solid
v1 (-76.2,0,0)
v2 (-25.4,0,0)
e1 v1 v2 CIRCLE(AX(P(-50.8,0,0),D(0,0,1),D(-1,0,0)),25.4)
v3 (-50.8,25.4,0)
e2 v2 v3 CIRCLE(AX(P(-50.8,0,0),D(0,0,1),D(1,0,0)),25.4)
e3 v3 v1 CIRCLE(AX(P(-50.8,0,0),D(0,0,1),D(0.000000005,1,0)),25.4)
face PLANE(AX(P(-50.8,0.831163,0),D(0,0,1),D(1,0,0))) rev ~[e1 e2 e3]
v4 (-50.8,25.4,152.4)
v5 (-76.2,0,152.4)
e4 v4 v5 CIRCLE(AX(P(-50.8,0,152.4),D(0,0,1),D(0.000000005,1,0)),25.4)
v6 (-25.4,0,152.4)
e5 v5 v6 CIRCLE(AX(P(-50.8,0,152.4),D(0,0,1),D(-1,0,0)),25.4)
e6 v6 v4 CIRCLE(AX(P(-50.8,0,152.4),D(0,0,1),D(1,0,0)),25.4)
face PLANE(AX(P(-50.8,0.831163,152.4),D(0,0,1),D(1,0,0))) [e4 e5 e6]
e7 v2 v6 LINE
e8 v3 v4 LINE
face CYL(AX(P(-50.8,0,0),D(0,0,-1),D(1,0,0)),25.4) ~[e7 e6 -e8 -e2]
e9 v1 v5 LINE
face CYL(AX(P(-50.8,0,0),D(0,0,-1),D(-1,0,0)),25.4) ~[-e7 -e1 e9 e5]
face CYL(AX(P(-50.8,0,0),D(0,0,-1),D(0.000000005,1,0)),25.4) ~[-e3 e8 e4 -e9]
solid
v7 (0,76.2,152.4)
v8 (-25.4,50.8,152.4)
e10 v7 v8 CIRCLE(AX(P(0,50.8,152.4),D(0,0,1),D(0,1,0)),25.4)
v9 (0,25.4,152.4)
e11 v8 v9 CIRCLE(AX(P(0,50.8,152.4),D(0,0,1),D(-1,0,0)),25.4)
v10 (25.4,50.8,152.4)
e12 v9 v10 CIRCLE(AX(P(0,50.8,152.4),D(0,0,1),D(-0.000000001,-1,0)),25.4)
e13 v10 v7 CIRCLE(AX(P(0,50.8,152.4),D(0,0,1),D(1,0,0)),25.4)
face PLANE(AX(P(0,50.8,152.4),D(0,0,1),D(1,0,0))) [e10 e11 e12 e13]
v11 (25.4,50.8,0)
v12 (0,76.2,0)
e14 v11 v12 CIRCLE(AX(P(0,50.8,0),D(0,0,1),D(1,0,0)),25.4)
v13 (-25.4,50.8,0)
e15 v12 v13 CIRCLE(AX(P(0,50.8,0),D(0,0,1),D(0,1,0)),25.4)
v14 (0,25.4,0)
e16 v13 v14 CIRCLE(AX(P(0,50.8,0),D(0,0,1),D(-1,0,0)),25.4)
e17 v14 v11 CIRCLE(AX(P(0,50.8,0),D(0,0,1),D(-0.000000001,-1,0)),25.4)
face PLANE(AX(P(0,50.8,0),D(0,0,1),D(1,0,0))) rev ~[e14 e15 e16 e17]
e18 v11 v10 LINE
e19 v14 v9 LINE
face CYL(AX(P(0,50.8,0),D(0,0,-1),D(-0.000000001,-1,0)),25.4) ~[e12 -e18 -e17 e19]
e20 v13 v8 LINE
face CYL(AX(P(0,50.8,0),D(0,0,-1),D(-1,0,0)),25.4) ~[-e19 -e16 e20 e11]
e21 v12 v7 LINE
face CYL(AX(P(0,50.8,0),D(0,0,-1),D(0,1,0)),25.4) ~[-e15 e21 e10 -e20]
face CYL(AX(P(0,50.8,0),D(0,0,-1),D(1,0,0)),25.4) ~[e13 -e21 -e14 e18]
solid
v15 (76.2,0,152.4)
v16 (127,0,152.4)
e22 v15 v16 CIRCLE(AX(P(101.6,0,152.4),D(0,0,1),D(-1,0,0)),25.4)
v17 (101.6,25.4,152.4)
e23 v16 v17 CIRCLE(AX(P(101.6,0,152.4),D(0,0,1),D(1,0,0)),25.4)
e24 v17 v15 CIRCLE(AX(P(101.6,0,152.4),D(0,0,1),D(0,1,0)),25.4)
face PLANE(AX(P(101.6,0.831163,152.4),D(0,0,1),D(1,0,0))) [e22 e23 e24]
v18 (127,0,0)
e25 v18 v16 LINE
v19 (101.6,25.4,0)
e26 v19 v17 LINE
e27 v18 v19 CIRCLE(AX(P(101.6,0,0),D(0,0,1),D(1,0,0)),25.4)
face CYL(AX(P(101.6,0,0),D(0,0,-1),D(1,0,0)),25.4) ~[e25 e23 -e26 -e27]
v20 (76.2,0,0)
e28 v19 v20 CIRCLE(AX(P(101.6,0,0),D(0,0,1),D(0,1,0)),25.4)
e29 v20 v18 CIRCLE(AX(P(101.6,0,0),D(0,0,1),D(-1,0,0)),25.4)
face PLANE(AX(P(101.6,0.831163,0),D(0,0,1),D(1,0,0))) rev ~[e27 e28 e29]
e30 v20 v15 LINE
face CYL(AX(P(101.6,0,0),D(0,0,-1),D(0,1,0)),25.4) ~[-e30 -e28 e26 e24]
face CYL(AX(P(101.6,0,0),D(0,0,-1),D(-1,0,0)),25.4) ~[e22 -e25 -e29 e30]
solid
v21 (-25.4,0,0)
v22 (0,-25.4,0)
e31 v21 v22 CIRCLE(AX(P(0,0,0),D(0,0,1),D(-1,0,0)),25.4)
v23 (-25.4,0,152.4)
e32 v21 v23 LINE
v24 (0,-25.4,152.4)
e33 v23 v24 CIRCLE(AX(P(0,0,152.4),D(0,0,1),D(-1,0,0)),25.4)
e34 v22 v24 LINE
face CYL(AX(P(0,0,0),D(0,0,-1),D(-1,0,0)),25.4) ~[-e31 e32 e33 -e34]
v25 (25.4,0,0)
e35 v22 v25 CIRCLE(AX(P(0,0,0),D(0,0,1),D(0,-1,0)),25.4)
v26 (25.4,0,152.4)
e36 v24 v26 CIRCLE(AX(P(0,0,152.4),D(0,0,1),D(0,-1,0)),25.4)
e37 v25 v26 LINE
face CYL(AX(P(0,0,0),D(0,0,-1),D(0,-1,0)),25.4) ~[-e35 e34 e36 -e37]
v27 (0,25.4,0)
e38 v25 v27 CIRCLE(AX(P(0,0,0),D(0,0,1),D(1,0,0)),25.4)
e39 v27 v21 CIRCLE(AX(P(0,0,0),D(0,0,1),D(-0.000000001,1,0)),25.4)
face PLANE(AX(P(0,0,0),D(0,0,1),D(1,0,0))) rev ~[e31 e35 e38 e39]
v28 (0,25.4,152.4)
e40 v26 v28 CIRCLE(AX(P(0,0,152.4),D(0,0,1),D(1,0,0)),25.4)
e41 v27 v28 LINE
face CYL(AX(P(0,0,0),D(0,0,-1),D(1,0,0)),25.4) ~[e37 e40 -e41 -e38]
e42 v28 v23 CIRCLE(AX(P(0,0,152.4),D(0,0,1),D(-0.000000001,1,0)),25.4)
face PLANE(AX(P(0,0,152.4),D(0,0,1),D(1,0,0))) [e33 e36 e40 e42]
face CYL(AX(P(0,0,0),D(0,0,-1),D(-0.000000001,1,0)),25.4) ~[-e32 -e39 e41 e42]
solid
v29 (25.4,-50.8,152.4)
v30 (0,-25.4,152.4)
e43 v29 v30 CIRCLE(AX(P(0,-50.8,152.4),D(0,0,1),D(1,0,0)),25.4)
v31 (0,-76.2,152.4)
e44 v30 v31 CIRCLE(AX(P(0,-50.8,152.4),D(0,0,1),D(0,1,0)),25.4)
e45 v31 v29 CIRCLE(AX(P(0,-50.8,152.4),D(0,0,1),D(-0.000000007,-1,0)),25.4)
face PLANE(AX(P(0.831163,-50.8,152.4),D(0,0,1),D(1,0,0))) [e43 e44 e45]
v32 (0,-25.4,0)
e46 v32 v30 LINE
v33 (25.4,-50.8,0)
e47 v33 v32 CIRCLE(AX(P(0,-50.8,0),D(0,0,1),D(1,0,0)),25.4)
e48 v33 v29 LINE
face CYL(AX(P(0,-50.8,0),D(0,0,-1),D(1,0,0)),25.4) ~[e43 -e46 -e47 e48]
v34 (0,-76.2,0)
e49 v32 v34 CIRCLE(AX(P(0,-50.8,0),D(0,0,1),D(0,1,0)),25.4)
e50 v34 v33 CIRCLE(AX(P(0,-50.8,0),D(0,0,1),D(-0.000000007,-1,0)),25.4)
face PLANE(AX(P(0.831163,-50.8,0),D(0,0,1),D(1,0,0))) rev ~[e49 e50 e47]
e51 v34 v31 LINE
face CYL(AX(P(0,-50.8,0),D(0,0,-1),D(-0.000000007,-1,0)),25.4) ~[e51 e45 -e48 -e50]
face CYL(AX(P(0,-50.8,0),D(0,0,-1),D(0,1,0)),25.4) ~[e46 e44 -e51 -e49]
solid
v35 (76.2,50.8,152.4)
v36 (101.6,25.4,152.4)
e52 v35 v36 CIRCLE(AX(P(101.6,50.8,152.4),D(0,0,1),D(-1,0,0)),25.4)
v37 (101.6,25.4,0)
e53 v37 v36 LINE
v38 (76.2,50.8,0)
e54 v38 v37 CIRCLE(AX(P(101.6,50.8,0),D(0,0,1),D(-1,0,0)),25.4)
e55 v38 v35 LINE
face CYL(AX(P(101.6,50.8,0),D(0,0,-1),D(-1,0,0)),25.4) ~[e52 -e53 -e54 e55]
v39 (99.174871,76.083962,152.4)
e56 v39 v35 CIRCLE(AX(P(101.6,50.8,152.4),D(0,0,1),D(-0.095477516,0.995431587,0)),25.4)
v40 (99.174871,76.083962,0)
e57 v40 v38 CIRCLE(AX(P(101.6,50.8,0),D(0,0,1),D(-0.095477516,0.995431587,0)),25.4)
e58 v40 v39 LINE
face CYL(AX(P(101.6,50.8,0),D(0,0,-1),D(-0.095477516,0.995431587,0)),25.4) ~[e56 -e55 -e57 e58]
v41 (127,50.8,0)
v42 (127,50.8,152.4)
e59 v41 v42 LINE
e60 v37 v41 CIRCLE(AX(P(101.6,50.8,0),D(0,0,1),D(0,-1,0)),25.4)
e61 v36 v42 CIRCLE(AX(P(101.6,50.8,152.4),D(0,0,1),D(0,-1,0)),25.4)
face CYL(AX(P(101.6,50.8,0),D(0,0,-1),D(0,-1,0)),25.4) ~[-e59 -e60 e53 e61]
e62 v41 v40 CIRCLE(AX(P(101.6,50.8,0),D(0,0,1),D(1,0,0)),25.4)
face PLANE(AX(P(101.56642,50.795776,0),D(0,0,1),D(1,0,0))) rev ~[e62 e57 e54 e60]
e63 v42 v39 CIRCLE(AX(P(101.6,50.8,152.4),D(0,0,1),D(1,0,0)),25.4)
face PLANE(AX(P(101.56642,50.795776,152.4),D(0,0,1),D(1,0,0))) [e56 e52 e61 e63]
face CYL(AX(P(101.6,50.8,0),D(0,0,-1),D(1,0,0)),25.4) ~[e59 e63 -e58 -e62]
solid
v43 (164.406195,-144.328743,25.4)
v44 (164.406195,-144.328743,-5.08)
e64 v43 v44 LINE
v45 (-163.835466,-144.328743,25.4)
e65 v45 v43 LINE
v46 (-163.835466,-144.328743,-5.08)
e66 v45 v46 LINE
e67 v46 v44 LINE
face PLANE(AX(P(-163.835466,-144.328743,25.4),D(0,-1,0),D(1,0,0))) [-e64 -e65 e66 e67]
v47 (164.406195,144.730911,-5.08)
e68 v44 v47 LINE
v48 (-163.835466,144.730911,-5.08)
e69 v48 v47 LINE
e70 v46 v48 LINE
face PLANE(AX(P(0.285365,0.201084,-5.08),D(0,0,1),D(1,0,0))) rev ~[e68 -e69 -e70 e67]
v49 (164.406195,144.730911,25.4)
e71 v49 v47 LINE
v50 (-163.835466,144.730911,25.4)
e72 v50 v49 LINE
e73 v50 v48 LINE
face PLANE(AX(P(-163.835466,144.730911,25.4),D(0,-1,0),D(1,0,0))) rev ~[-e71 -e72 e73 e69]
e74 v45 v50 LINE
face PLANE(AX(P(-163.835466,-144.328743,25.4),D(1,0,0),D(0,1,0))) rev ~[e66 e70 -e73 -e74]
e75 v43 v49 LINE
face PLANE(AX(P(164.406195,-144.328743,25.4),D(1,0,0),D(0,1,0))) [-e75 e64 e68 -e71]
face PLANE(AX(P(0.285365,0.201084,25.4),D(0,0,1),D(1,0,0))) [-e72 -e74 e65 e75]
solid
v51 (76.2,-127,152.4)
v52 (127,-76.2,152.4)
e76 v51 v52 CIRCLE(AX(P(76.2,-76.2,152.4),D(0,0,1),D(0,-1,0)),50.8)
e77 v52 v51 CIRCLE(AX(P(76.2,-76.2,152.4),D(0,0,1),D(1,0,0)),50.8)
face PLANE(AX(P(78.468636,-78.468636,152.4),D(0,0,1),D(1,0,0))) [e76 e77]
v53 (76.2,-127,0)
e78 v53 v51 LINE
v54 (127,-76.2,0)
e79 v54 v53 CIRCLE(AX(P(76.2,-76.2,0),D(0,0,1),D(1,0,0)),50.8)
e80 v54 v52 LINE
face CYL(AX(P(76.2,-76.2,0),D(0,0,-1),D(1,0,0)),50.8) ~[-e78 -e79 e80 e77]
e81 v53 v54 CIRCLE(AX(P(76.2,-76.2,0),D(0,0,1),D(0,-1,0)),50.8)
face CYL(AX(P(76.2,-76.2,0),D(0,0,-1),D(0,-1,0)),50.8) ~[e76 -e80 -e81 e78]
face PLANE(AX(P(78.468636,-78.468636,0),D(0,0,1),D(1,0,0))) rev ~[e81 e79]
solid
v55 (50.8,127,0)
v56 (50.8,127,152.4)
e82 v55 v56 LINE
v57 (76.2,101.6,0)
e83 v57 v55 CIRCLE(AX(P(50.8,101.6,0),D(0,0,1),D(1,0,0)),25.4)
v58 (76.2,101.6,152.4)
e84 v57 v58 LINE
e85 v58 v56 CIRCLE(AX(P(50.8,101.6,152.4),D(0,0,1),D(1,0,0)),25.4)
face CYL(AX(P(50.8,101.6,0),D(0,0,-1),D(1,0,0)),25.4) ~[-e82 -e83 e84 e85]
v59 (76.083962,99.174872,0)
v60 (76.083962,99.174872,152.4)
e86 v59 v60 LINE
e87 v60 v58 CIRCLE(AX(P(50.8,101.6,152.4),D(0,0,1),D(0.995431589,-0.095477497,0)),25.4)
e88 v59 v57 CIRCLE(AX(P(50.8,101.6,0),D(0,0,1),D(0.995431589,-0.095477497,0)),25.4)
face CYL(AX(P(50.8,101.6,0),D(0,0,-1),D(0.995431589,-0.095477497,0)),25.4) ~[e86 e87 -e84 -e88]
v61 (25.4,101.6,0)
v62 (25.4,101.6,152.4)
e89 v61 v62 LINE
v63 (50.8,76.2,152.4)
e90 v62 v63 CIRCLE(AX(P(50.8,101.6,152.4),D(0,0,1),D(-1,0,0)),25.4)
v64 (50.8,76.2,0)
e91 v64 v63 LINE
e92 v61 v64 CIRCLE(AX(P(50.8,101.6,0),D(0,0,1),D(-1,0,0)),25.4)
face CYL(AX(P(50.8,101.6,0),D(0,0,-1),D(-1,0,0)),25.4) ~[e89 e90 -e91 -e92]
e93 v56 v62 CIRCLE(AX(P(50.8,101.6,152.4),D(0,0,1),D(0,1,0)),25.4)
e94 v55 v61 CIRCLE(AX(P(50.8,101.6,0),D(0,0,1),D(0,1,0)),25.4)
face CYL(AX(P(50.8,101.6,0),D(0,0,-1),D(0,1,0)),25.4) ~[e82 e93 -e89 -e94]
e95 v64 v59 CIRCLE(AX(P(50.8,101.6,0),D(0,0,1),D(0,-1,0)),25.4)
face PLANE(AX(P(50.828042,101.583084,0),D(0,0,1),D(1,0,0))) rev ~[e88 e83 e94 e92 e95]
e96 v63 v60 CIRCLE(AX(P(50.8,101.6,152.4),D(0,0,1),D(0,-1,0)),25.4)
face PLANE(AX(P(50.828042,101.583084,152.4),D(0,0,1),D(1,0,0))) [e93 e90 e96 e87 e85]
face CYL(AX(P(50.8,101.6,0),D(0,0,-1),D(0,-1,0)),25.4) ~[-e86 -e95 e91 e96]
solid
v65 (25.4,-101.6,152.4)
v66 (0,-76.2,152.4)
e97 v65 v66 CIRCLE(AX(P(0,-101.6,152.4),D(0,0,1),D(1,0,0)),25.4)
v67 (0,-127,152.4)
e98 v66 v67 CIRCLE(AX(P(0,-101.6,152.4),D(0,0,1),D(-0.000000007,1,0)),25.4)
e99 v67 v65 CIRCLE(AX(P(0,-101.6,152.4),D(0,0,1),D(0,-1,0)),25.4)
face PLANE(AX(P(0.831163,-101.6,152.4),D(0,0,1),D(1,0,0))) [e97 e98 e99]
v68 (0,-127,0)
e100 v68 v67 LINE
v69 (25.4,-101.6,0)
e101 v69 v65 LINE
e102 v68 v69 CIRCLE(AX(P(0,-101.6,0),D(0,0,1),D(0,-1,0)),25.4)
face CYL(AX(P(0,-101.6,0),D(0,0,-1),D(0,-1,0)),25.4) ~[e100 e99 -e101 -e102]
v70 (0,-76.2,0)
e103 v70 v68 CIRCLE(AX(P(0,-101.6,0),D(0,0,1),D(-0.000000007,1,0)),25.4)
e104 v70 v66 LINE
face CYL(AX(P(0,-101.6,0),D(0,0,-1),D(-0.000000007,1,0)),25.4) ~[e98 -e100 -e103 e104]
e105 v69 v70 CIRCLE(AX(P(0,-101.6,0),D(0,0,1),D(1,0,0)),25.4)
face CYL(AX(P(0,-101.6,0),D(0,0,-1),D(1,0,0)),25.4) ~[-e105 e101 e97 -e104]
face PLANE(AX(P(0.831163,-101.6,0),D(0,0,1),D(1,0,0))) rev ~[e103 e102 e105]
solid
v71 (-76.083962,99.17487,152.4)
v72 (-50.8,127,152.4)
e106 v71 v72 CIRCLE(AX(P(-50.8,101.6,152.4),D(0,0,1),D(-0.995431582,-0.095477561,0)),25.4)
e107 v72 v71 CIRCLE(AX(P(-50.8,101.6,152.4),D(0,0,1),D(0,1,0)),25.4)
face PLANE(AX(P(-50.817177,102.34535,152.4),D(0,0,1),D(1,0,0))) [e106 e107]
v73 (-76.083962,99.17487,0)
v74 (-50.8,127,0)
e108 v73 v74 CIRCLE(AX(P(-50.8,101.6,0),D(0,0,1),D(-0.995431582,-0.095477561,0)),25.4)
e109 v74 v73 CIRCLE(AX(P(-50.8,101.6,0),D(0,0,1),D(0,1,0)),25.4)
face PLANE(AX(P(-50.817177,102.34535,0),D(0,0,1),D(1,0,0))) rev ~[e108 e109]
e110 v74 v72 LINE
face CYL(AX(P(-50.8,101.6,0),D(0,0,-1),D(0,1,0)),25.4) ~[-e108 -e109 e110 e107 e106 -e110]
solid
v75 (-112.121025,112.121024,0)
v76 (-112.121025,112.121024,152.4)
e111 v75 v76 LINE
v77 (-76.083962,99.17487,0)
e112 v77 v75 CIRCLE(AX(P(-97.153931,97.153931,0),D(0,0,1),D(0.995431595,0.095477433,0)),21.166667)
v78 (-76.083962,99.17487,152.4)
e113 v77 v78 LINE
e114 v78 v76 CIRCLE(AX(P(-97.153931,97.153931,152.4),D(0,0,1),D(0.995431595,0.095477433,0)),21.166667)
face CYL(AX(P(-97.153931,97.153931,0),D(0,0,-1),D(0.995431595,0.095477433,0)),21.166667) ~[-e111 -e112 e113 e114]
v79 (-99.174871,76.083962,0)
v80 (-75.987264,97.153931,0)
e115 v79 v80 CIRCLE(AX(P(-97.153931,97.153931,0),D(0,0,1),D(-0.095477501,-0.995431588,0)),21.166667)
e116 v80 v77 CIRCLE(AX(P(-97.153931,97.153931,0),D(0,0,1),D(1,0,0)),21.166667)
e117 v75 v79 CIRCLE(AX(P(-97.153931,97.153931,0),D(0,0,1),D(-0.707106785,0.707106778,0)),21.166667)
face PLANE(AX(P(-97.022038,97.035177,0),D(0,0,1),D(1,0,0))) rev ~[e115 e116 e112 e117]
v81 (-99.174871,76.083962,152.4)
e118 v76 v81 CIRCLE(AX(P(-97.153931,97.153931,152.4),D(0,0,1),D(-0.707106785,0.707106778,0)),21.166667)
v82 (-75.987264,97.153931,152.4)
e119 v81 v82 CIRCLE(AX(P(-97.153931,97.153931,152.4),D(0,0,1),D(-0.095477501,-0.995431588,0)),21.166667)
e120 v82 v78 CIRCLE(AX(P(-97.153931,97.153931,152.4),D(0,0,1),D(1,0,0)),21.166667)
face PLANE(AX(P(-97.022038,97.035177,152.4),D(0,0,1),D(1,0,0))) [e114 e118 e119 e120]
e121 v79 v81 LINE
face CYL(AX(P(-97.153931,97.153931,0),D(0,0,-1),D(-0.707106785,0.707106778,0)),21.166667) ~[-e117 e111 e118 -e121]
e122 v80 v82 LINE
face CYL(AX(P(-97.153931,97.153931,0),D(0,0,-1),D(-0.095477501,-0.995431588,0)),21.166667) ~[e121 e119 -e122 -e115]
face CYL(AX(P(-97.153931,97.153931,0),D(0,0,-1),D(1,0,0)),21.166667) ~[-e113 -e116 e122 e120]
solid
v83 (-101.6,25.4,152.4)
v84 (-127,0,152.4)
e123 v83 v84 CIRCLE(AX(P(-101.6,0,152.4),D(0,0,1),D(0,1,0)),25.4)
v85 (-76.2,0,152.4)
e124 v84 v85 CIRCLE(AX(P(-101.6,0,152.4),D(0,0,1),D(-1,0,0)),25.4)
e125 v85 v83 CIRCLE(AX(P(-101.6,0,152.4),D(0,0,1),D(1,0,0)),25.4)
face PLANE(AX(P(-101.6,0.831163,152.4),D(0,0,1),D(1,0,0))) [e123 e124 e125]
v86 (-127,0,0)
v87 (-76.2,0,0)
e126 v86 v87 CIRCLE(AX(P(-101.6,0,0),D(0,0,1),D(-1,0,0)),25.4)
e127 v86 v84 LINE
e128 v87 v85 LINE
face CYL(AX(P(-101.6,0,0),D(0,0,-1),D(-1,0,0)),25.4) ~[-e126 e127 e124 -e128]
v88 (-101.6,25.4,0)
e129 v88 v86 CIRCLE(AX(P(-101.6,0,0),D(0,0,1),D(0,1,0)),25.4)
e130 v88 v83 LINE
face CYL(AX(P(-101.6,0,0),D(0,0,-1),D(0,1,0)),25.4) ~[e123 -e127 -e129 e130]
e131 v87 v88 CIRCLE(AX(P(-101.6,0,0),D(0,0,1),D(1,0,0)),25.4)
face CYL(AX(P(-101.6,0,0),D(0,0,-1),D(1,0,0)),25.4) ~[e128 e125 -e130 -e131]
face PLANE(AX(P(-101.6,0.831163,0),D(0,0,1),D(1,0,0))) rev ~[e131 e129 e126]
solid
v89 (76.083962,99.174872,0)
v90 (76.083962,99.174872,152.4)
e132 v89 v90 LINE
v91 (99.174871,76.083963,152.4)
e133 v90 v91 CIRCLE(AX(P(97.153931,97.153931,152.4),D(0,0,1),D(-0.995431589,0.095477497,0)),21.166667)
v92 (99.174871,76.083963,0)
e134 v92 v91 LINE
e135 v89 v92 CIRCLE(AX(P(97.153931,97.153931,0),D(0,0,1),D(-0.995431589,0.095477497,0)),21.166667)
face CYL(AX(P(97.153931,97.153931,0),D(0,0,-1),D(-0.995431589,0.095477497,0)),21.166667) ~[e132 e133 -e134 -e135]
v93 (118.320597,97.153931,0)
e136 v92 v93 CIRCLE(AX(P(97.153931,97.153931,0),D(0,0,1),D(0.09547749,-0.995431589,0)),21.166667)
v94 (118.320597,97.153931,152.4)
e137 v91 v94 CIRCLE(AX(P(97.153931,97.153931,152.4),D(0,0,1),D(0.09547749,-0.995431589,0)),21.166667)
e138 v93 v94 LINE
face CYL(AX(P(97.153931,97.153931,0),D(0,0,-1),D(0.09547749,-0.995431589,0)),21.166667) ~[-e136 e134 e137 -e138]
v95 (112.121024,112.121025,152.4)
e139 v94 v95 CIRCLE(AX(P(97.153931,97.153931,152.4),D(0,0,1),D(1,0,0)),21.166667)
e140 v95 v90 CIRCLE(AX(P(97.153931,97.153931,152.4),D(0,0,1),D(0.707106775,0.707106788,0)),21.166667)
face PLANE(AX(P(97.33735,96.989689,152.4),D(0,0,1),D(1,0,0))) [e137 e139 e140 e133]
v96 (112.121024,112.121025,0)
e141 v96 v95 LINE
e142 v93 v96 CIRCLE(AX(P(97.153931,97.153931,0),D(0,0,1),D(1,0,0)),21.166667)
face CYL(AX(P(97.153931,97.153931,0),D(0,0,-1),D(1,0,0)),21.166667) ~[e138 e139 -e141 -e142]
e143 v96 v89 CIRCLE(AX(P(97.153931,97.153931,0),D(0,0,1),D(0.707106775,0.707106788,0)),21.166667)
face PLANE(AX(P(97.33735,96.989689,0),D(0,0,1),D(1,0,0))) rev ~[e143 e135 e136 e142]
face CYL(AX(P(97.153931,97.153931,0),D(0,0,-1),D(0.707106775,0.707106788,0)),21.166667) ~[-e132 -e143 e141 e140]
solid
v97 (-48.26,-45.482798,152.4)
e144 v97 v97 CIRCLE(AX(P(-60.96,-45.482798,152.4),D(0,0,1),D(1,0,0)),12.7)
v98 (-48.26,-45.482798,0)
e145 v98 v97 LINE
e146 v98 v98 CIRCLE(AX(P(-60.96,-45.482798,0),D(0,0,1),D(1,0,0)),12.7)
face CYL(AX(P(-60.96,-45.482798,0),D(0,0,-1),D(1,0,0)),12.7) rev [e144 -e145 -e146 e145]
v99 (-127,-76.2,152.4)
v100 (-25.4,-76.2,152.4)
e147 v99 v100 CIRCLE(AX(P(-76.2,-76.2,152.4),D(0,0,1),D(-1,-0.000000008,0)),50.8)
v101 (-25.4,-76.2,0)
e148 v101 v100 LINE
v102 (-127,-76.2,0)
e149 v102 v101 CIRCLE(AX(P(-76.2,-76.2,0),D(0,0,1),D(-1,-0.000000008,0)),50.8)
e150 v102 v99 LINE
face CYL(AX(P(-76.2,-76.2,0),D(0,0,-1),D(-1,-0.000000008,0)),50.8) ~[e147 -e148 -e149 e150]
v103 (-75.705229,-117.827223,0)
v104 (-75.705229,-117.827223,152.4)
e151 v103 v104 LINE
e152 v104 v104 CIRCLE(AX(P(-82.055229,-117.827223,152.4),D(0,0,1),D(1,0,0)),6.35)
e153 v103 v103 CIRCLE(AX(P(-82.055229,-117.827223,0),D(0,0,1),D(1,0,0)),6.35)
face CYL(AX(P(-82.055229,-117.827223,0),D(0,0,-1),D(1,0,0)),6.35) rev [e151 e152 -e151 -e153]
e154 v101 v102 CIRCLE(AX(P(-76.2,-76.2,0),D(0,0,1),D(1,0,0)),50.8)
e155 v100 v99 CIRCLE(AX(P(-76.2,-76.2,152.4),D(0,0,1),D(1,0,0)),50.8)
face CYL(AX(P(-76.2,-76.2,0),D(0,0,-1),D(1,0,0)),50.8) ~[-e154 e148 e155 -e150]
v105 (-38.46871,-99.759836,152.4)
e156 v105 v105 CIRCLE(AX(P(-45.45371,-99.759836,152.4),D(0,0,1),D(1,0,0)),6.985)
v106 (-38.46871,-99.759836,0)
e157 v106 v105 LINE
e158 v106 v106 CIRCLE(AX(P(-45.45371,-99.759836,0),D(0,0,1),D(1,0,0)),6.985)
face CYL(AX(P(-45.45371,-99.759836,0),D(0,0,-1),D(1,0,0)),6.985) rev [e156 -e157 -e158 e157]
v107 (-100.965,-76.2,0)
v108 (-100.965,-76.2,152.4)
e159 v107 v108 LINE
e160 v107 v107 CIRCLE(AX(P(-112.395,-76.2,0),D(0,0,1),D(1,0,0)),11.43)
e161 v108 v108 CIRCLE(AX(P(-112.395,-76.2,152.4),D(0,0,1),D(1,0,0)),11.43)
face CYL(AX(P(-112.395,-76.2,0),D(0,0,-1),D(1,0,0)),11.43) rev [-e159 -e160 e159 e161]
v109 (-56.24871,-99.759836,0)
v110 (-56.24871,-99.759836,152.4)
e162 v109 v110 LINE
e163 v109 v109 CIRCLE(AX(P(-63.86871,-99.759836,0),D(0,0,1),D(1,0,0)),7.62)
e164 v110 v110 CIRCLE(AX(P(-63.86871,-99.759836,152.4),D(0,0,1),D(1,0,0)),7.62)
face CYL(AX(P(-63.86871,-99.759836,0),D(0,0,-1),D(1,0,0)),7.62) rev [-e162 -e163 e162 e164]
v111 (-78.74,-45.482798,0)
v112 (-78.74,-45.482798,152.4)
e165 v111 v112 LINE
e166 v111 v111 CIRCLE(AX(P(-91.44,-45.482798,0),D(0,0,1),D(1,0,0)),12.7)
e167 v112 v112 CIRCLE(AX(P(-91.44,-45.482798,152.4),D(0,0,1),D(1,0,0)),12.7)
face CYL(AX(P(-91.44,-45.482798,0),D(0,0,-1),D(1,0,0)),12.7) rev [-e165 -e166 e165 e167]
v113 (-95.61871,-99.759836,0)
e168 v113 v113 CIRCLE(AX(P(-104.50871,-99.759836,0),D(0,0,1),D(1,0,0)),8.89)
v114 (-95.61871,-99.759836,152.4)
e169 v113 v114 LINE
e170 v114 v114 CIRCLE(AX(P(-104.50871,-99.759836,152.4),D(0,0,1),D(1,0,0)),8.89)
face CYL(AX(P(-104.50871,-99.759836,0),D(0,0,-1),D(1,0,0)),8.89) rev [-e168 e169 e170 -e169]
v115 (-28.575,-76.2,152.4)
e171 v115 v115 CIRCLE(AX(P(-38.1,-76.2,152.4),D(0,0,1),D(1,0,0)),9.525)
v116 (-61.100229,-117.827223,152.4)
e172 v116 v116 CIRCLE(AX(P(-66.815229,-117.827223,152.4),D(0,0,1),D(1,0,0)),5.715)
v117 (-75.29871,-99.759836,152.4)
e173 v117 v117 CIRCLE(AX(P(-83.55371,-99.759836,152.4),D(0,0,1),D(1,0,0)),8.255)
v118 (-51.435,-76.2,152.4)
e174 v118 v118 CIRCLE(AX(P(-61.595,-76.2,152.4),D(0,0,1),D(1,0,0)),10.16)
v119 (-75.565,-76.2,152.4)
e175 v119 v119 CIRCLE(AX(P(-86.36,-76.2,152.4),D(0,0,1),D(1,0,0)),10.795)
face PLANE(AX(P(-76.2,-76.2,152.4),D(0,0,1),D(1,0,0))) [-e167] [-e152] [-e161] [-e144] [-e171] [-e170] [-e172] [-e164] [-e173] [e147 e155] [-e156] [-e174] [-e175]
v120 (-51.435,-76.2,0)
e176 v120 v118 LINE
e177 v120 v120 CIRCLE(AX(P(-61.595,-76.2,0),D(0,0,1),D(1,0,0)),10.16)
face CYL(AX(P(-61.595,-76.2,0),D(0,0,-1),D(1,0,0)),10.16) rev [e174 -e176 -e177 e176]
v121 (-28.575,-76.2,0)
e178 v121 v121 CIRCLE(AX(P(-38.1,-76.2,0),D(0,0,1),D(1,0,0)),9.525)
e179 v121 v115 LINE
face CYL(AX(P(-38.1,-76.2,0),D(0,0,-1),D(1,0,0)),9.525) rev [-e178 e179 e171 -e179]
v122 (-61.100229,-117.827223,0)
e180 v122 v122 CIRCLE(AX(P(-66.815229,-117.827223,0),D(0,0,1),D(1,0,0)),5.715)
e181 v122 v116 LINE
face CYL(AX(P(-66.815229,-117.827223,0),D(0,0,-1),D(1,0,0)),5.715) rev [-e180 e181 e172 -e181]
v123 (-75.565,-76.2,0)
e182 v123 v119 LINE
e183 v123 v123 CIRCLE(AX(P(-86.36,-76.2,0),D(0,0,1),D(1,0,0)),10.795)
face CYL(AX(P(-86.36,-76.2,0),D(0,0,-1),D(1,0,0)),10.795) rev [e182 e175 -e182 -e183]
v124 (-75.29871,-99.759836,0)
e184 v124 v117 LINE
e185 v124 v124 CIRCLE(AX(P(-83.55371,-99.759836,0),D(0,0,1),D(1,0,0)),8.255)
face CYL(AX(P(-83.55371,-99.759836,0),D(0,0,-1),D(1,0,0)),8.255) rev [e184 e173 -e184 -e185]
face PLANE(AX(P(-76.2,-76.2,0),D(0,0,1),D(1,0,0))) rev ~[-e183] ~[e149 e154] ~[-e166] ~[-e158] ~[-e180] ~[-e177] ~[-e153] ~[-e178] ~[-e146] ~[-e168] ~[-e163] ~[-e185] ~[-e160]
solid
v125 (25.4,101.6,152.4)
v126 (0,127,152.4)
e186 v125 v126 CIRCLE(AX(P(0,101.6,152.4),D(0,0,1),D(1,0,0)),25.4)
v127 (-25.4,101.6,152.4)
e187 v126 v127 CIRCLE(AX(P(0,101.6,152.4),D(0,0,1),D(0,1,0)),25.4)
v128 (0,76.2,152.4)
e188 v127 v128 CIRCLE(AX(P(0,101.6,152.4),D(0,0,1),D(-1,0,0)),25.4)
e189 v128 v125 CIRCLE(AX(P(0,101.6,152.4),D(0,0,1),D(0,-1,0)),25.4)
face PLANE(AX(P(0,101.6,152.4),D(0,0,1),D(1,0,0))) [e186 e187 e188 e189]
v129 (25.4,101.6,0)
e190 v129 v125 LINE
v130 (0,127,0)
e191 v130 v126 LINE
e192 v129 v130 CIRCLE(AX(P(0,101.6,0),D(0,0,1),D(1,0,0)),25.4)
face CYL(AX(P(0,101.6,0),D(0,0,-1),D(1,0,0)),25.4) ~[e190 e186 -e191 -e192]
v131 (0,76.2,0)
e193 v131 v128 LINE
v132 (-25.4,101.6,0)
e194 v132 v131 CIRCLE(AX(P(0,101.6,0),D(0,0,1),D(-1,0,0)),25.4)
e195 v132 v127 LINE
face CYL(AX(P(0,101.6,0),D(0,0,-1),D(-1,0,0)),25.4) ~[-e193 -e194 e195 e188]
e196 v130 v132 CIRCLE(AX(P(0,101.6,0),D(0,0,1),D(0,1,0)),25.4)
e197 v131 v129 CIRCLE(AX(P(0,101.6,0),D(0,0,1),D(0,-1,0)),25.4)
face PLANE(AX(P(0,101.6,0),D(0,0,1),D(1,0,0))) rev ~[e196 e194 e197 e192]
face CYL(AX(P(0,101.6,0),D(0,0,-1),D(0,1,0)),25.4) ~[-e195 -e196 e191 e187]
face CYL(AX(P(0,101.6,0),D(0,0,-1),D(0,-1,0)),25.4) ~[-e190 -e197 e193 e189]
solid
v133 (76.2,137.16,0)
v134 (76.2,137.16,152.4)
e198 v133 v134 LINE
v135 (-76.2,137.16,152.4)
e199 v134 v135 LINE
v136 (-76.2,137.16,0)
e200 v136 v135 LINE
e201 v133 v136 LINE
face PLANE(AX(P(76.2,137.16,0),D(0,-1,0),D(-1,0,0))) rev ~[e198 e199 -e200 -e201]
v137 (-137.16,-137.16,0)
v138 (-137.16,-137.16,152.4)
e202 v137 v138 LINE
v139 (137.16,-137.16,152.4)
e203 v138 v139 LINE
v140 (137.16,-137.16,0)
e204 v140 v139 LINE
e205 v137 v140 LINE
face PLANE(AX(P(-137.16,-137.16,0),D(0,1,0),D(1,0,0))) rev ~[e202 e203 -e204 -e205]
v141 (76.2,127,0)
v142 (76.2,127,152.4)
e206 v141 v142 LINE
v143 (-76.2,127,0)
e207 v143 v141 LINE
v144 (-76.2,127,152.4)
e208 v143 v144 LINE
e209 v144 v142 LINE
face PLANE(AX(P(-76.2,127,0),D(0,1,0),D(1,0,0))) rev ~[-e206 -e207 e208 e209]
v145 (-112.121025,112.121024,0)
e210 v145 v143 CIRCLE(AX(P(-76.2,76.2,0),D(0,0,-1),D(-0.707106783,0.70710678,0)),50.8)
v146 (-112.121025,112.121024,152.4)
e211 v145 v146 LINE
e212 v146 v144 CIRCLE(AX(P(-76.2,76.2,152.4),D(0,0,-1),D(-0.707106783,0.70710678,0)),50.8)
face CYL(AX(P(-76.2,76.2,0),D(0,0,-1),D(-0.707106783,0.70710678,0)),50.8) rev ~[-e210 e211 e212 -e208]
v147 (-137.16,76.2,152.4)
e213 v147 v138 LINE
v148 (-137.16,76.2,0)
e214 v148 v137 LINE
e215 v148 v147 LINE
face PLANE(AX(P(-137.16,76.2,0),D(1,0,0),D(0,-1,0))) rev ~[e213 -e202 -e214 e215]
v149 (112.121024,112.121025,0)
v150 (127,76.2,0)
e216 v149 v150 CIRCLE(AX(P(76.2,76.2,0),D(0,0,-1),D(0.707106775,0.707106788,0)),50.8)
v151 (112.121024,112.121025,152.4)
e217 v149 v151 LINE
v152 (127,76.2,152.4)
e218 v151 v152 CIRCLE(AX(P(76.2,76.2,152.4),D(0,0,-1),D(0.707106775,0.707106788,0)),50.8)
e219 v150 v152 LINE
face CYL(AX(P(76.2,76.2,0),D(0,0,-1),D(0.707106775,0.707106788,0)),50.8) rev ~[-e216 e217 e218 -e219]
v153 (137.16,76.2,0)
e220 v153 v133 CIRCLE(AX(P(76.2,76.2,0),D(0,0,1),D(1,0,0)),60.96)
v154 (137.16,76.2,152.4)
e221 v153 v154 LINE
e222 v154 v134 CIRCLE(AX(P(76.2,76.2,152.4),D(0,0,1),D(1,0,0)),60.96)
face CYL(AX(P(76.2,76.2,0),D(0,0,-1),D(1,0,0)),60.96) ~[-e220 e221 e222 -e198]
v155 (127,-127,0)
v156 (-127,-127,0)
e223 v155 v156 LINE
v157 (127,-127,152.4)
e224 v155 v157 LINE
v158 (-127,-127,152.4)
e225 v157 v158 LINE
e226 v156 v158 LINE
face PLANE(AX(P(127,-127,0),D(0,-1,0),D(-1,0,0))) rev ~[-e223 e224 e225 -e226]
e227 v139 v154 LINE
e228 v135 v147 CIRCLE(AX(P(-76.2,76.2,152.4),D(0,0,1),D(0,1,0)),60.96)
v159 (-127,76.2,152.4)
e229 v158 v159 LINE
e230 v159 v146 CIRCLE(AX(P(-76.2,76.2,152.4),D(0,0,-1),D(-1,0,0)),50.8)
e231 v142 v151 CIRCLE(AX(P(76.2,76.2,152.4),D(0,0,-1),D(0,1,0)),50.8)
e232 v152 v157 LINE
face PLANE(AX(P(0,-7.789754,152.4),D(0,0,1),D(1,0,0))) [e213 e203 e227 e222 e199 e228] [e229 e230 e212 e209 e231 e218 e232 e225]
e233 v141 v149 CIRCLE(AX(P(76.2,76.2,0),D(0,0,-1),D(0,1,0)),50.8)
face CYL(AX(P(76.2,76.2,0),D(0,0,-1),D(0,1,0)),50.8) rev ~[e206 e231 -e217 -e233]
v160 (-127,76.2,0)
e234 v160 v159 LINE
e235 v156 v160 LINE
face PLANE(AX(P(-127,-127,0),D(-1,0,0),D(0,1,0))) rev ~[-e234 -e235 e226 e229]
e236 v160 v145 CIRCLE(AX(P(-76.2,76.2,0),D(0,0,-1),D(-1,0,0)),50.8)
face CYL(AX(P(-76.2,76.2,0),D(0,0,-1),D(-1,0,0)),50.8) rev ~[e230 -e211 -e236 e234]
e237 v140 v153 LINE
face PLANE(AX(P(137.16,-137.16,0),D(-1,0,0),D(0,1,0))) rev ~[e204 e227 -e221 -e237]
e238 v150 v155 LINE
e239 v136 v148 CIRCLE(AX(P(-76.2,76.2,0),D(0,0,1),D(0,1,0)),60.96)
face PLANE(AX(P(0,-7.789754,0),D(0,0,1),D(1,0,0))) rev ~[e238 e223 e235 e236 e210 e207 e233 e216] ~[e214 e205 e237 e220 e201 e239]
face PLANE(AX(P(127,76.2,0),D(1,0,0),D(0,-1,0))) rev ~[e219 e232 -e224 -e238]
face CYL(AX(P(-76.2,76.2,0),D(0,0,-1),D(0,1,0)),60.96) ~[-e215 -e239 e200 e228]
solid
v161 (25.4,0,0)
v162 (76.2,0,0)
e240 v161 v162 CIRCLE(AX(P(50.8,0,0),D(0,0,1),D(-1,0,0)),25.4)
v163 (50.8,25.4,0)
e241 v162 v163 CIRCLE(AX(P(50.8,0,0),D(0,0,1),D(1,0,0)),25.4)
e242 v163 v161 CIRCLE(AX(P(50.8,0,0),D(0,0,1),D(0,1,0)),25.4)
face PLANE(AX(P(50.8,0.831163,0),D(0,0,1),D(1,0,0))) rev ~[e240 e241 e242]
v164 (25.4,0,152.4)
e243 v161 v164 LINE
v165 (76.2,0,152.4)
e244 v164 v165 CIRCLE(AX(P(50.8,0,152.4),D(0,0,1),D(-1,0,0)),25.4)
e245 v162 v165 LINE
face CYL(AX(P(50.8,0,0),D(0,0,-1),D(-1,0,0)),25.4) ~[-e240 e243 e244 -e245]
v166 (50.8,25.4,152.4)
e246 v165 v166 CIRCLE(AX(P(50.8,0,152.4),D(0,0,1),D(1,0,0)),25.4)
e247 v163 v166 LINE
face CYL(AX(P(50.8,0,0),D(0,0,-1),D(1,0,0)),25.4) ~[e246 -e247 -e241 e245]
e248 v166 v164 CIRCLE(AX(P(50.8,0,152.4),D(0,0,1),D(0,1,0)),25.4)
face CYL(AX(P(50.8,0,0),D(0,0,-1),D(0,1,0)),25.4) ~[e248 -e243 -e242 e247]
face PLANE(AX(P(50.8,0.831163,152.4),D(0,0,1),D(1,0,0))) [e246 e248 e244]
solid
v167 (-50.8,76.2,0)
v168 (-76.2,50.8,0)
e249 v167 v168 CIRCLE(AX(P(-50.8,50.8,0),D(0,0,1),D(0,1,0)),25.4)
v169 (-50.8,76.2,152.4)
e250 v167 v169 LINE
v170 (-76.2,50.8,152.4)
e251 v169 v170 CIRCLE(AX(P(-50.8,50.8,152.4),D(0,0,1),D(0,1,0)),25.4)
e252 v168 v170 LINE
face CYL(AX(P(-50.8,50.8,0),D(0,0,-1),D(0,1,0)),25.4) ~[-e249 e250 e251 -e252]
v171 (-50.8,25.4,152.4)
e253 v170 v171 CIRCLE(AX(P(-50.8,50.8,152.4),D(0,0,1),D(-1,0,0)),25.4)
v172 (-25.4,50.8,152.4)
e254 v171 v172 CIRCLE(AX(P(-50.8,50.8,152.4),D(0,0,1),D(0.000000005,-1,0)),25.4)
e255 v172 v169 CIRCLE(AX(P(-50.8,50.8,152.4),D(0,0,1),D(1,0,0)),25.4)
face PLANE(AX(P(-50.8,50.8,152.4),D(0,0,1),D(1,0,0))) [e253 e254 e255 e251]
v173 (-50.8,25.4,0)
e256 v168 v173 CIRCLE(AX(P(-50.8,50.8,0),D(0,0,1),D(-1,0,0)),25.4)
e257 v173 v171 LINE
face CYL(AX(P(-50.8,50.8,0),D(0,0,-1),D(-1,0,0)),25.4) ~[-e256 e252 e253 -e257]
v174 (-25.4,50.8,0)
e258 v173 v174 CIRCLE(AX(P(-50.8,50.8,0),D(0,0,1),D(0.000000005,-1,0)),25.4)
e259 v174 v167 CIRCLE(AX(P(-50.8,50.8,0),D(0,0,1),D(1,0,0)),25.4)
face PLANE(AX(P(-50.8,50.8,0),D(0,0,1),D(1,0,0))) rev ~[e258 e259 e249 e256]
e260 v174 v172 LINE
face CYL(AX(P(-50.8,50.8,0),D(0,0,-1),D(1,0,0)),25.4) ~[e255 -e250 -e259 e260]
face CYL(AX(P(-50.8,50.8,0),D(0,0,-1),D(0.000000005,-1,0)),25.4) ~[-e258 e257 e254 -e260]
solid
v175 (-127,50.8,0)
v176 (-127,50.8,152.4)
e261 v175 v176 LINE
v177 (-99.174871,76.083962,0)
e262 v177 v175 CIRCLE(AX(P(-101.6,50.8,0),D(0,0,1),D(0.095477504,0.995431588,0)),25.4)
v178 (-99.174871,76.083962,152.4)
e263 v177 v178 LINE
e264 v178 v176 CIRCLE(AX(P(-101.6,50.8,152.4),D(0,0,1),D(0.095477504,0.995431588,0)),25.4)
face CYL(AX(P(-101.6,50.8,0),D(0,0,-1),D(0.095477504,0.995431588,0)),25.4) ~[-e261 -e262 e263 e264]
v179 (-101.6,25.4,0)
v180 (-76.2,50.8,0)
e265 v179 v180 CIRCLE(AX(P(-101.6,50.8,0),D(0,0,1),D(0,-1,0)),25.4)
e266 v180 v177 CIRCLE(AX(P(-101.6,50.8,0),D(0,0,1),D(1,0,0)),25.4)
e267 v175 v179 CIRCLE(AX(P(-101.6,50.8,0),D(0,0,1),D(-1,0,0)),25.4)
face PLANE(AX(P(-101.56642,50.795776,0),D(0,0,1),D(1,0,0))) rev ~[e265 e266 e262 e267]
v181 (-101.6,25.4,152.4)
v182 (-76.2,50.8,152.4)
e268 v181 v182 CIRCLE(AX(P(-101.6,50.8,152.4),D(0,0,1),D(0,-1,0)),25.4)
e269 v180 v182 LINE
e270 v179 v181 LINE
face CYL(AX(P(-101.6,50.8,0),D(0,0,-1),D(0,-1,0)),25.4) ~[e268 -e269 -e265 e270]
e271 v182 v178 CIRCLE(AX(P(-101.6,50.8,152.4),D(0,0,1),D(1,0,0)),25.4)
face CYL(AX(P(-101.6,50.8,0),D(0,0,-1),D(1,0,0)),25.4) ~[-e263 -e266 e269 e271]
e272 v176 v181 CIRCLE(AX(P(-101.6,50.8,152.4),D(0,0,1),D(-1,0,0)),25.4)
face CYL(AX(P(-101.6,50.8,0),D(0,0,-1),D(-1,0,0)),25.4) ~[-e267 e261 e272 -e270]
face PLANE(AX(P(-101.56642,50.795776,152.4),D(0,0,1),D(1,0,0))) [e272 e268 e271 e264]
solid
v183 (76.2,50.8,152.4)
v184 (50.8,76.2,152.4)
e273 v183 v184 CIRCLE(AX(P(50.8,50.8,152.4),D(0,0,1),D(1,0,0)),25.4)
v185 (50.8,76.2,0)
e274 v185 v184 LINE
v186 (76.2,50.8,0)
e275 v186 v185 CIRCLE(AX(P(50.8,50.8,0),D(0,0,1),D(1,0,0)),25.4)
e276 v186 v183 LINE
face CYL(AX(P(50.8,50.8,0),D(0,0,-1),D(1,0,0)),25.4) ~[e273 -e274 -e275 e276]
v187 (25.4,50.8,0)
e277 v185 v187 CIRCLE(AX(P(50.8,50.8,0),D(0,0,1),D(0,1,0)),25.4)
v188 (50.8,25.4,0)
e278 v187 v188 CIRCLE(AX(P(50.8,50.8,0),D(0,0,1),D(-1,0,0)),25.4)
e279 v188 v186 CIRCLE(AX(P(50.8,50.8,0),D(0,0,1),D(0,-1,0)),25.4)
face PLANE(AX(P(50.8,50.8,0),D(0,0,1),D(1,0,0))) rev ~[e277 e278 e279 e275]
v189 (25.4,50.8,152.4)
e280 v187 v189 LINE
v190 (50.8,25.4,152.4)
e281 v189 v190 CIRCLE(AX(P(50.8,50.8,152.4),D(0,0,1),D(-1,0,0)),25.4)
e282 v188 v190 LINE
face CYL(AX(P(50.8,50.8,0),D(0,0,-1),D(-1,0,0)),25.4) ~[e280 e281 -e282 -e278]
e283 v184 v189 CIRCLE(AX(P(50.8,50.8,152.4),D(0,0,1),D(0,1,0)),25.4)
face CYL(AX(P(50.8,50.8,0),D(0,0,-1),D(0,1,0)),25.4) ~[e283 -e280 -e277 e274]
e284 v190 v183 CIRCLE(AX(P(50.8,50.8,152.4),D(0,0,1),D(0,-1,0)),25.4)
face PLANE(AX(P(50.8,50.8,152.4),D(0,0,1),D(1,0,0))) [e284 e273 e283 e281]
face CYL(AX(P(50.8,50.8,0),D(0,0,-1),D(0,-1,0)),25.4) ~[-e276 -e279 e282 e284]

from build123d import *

# Parameters (mm, degrees)
F1_DEPTH = 152.4
F0_R     = 6.35
F0_R_2   = 8.89
F0_R_3   = 11.43
F0_R_4   = 8.255
F0_R_5   = 10.795
F0_R_6   = 5.715
F0_R_7   = 7.62
F0_R_8   = 6.985
F0_R_9   = 10.16
F0_R_10  = 9.525
F0_R_11  = 12.7
F2_DEPTH = 152.4
F4_W     = 328.241661191
F4_H     = 289.0596538782
F5_DEPTH = 30.48


with BuildPart() as f1:
    # F0 (on Top) → F1 (new body)
    with BuildSketch(Plane.XY):
        with BuildLine():
            ThreePointArc((-101.6, 25.4), (-83.6394877579, 32.8394877579), (-76.2, 50.8))
            ThreePointArc((-76.2, 50.8), (-82.801618866, 67.8815943852), (-99.174871397, 76.083962333))
            ThreePointArc((-99.174871397, 76.083962333), (-118.6815943852, 69.598381134), (-127, 50.8))
            ThreePointArc((-127, 50.8), (-119.5605122421, 32.8394877579), (-101.6, 25.4))
        make_face()
    extrude(amount=F1_DEPTH)


with BuildPart() as f1b:
    # F0 (on Top) → F1, piece 2 (new body)
    with BuildSketch(Plane.XY):
        with BuildLine():
            ThreePointArc((-25.4, 50.8), (-32.8394877579, 68.7605122421), (-50.8, 76.2))
            ThreePointArc((-50.8, 76.2), (-68.7605122421, 68.7605122421), (-76.2, 50.8))
            ThreePointArc((-76.2, 50.8), (-68.7605121971, 32.8394877128), (-50.7999998726, 25.4))
            ThreePointArc((-50.7999998726, 25.4), (-32.8394877128, 32.8394878029), (-25.4, 50.8))
        make_face()
    extrude(amount=F1_DEPTH)


with BuildPart() as f1c:
    # F0 (on Top) → F1, piece 3 (new body)
    with BuildSketch(Plane.XY):
        with BuildLine():
            ThreePointArc((25.4, 50.8), (17.9605122421, 68.7605122421), (0, 76.2))
            ThreePointArc((0, 76.2), (-17.9605122421, 68.7605122421), (-25.4, 50.8))
            ThreePointArc((-25.4, 50.8), (-17.9605122543, 32.83948777), (-3.45e-08, 25.4))
            ThreePointArc((-3.45e-08, 25.4), (17.96051223, 32.8394877457), (25.4, 50.8))
        make_face()
    extrude(amount=F1_DEPTH)


with BuildPart() as f1d:
    # F0 (on Top) → F1, piece 4 (new body)
    with BuildSketch(Plane.XY):
        with BuildLine():
            ThreePointArc((25.4, 0), (17.96051223, 17.9605122543), (-3.45e-08, 25.4))
            ThreePointArc((-3.45e-08, 25.4), (-17.9605122543, 17.96051223), (-25.4, 0))
            ThreePointArc((-25.4, 0), (-17.9605122421, -17.9605122421), (0, -25.4))
            ThreePointArc((0, -25.4), (17.9605122421, -17.9605122421), (25.4, 0))
        make_face()
    extrude(amount=F1_DEPTH)


with BuildPart() as f1e:
    # F0 (on Top) → F1, piece 5 (new body)
    with BuildSketch(Plane.XY):
        with BuildLine():
            ThreePointArc((-25.4, 0), (-32.8394877128, 17.9605121971), (-50.7999998726, 25.4))
            ThreePointArc((-50.7999998726, 25.4), (-68.7605121971, 17.9605122872), (-76.2, 0))
            ThreePointArc((-76.2, 0), (-50.8, -25.4), (-25.4, 0))
        make_face()
    extrude(amount=F1_DEPTH)


with BuildPart() as f1f:
    # F0 (on Top) → F1, piece 6 (new body)
    with BuildSketch(Plane.XY):
        with BuildLine():
            ThreePointArc((-76.2, 0), (-83.6394877579, 17.9605122421), (-101.6, 25.4))
            ThreePointArc((-101.6, 25.4), (-119.5605122421, 17.9605122421), (-127, 0))
            ThreePointArc((-127, 0), (-101.6, -25.4), (-76.2, 0))
        make_face()
    extrude(amount=F1_DEPTH)


with BuildPart() as f1g:
    # F0 (on Top) → F1, piece 7 (new body)
    with BuildSketch(Plane.XY):
        with BuildLine():
            ThreePointArc((-75.9872642825, 97.1539309492), (-76.0114525811, 98.1655564898), (-76.0839621944, 99.1748699517))
            ThreePointArc((-76.0839621944, 99.1748699517), (-89.9976749384, 117.0741663315), (-112.1210245567, 112.1210244118))
            ThreePointArc((-112.1210245567, 112.1210244118), (-117.0741665422, 89.9976755251), (-99.174871397, 76.083962333))
            ThreePointArc((-99.174871397, 76.083962333), (-82.9192689411, 81.488613356), (-75.9872642825, 97.1539309492))
        make_face()
    extrude(amount=F1_DEPTH)


with BuildPart() as f1h:
    # F0 (on Top) → F1, piece 8 (new body)
    with BuildSketch(Plane.XY):
        with BuildLine():
            ThreePointArc((-25.4, 101.6), (-32.8394877579, 119.5605122421), (-50.8, 127))
            ThreePointArc((-50.8, 127), (-69.5983816222, 118.681593848), (-76.0839621944, 99.1748699517))
            ThreePointArc((-76.0839621944, 99.1748699517), (-67.881593848, 82.8016183778), (-50.8, 76.2))
            ThreePointArc((-50.8, 76.2), (-32.8394877579, 83.6394877579), (-25.4, 101.6))
        make_face()
    extrude(amount=F1_DEPTH)


with BuildPart() as f1i:
    # F0 (on Top) → F1, piece 9 (new body)
    with BuildSketch(Plane.XY):
        with BuildLine():
            ThreePointArc((25.4, 101.6), (17.9605122448, 119.5605122394), (7.7e-09, 127))
            ThreePointArc((7.7e-09, 127), (-17.9605122394, 119.5605122448), (-25.4, 101.6))
            ThreePointArc((-25.4, 101.6), (-17.9605122421, 83.6394877579), (0, 76.2))
            ThreePointArc((0, 76.2), (17.9605122421, 83.6394877579), (25.4, 101.6))
        make_face()
    extrude(amount=F1_DEPTH)


with BuildPart() as f1j:
    # F0 (on Top) → F1, piece 10 (new body)
    with BuildSketch(Plane.XY):
        with BuildLine():
            ThreePointArc((76.2, 101.6), (68.7605122421, 119.5605122421), (50.8, 127))
            ThreePointArc((50.8, 127), (32.8394877579, 119.5605122421), (25.4, 101.6))
            ThreePointArc((25.4, 101.6), (32.8394877579, 83.6394877579), (50.8, 76.2))
            ThreePointArc((50.8, 76.2), (67.88159445, 82.8016189248), (76.0839623497, 99.1748715711))
            ThreePointArc((76.0839623497, 99.1748715711), (76.1709740026, 100.3860485355), (76.2, 101.6))
        make_face()
    extrude(amount=F1_DEPTH)


with BuildPart() as f1k:
    # F0 (on Top) → F1, piece 11 (new body)
    with BuildSketch(Plane.XY):
        with BuildLine():
            ThreePointArc((118.3205973914, 97.1539312252), (116.7093808027, 105.2540639168), (112.1210241623, 112.1210248063))
            ThreePointArc((112.1210241623, 112.1210248063), (89.9976753838, 117.0741666712), (76.0839623483, 99.1748715712))
            ThreePointArc((76.0839623483, 99.1748715712), (82.1868373501, 82.18683783), (99.1748710489, 76.0839627103))
            ThreePointArc((99.1748710489, 76.0839627103), (112.8192482704, 82.9192692131), (118.3205973914, 97.1539312252))
        make_face()
    extrude(amount=F1_DEPTH)


with BuildPart() as f1l:
    # F0 (on Top) → F1, piece 12 (new body)
    with BuildSketch(Plane.XY):
        with BuildLine():
            ThreePointArc((76.2, 50.8), (68.7605122421, 68.7605122421), (50.8, 76.2))
            ThreePointArc((50.8, 76.2), (32.8394877579, 68.7605122421), (25.4, 50.8))
            ThreePointArc((25.4, 50.8), (32.8394877579, 32.8394877579), (50.8, 25.4))
            ThreePointArc((50.8, 25.4), (68.7605122421, 32.8394877579), (76.2, 50.8))
        make_face()
    extrude(amount=F1_DEPTH)


with BuildPart() as f1m:
    # F0 (on Top) → F1, piece 13 (new body)
    with BuildSketch(Plane.XY):
        with BuildLine():
            ThreePointArc((101.6, 25.4), (119.5605122421, 32.8394877579), (127, 50.8))
            ThreePointArc((127, 50.8), (118.6815942703, 69.5983812384), (99.1748710879, 76.0839623034))
            ThreePointArc((99.1748710879, 76.0839623034), (82.8016187616, 67.8815942703), (76.2, 50.8))
            ThreePointArc((76.2, 50.8), (83.6394877579, 32.8394877579), (101.6, 25.4))
        make_face()
    extrude(amount=F1_DEPTH)


with BuildPart() as f1n:
    # F0 (on Top) → F1, piece 14 (new body)
    with BuildSketch(Plane.XY):
        with BuildLine():
            ThreePointArc((76.2, 0), (101.6, -25.4), (127, 0))
            ThreePointArc((127, 0), (119.5605122421, 17.9605122421), (101.6, 25.4))
            ThreePointArc((101.6, 25.4), (83.6394877579, 17.9605122421), (76.2, 0))
        make_face()
    extrude(amount=F1_DEPTH)


with BuildPart() as f1o:
    # F0 (on Top) → F1, piece 15 (new body)
    with BuildSketch(Plane.XY):
        with BuildLine():
            ThreePointArc((76.2, 0), (68.7605122421, 17.9605122421), (50.8, 25.4))
            ThreePointArc((50.8, 25.4), (32.8394877579, 17.9605122421), (25.4, 0))
            ThreePointArc((25.4, 0), (50.8, -25.4), (76.2, 0))
        make_face()
    extrude(amount=F1_DEPTH)


with BuildPart() as f1p:
    # F0 (on Top) → F1, piece 16 (new body)
    with BuildSketch(Plane.XY):
        with BuildLine():
            ThreePointArc((76.2, -127), (112.1210244843, -112.1210244843), (127, -76.2))
            ThreePointArc((127, -76.2), (40.2789755157, -40.2789755157), (76.2, -127))
        make_face()
    extrude(amount=F1_DEPTH)


with BuildPart() as f1q:
    # F0 (on Top) → F1, piece 17 (new body)
    with BuildSketch(Plane.XY):
        with BuildLine():
            ThreePointArc((-1.744e-07, -76.2), (-25.4, -101.6000000872), (0, -127))
            ThreePointArc((0, -127), (17.9605122421, -119.5605122421), (25.4, -101.6))
            ThreePointArc((25.4, -101.6), (17.9605121805, -83.6394876962), (-1.744e-07, -76.2))
        make_face()
    extrude(amount=F1_DEPTH)


with BuildPart() as f1r:
    # F0 (on Top) → F1, piece 18 (new body)
    with BuildSketch(Plane.XY):
        with BuildLine():
            ThreePointArc((-25.4, -76.2), (-76.2000002061, -25.4), (-127, -76.2000004122))
            ThreePointArc((-127, -76.2000004122), (-112.1210241928, -112.1210247758), (-76.1999995878, -127))
            ThreePointArc((-76.1999995878, -127), (-40.27897537, -112.1210243385), (-25.4, -76.2))
        make_face()
        with Locations((-82.0552291667, -117.8272225882)):
            Circle(F0_R, mode=Mode.SUBTRACT)
        with Locations((-104.5087096774, -99.7598356616)):
            Circle(F0_R_2, mode=Mode.SUBTRACT)
        with Locations((-112.395, -76.2)):
            Circle(F0_R_3, mode=Mode.SUBTRACT)
        with Locations((-83.5537096774, -99.7598356616)):
            Circle(F0_R_4, mode=Mode.SUBTRACT)
        with Locations((-86.36, -76.2)):
            Circle(F0_R_5, mode=Mode.SUBTRACT)
        with Locations((-66.8152291667, -117.8272225882)):
            Circle(F0_R_6, mode=Mode.SUBTRACT)
        with Locations((-63.8687096774, -99.7598356616)):
            Circle(F0_R_7, mode=Mode.SUBTRACT)
        with Locations((-45.4537096774, -99.7598356616)):
            Circle(F0_R_8, mode=Mode.SUBTRACT)
        with Locations((-61.595, -76.2)):
            Circle(F0_R_9, mode=Mode.SUBTRACT)
        with Locations((-38.1, -76.2)):
            Circle(F0_R_10, mode=Mode.SUBTRACT)
        with Locations((-91.44, -45.482797979)):
            Circle(F0_R_11, mode=Mode.SUBTRACT)
        with Locations((-60.96, -45.482797979)):
            Circle(F0_R_11, mode=Mode.SUBTRACT)
    extrude(amount=F1_DEPTH)


with BuildPart() as f1s:
    # F0 (on Top) → F1, piece 19 (new body)
    with BuildSketch(Plane.XY):
        with BuildLine():
            ThreePointArc((25.4, -50.8), (17.9605122421, -32.8394877579), (0, -25.4))
            ThreePointArc((0, -25.4), (-25.4, -50.7999999128), (-1.744e-07, -76.2))
            ThreePointArc((-1.744e-07, -76.2), (17.9605121805, -68.7605123038), (25.4, -50.8))
        make_face()
    extrude(amount=F1_DEPTH)


with BuildPart() as f2:
    # F0 (on Top) → F2 (new body)
    with BuildSketch(Plane.XY):
        with BuildLine():
            Line((137.16, -137.16), (137.16, 76.2))
            ThreePointArc((137.16, 76.2), (119.3052293811, 119.3052293811), (76.2, 137.16))
            Line((76.2, 137.16), (-76.2, 137.16))
            ThreePointArc((-76.2, 137.16), (-119.3052293811, 119.3052293811), (-137.16, 76.2))
            Line((-137.16, 76.2), (-137.16, -137.16))
            Line((-137.16, -137.16), (137.16, -137.16))
        make_face()
        with BuildLine():
            Line((50.8, 127), (76.2, 127))
            ThreePointArc((76.2, 127), (95.6403181538, 123.1330803387), (112.1210241623, 112.1210248063))
            ThreePointArc((112.1210241623, 112.1210248063), (123.1330801644, 95.6403185745), (127, 76.2))
            Line((127, 76.2), (127, 50.8))
            Line((127, 50.8), (127, 0))
            Line((127, 0), (127, -76.2))
            Line((127, -76.2), (127, -127))
            Line((127, -127), (76.2, -127))
            Line((76.2, -127), (0, -127))
            Line((0, -127), (-76.1999995878, -127))
            Line((-76.1999995878, -127), (-127, -127))
            Line((-127, -127), (-127, -76.2000004122))
            Line((-127, -76.2000004122), (-127, 0))
            Line((-127, 0), (-127, 50.8))
            Line((-127, 50.8), (-127, 76.2))
            ThreePointArc((-127, 76.2), (-123.1330802712, 95.6403183168), (-112.1210245567, 112.1210244118))
            ThreePointArc((-112.1210245567, 112.1210244118), (-95.6403184115, 123.133080232), (-76.2, 127))
            Line((-76.2, 127), (-50.8, 127))
            Line((-50.8, 127), (7.7e-09, 127))
            Line((7.7e-09, 127), (50.8, 127))
        make_face(mode=Mode.SUBTRACT)
    extrude(amount=F2_DEPTH)


with BuildPart() as f5:
    # F4 (on offset) → F5 (new body)
    with BuildSketch(Plane.XY.offset(25.4)):
        with Locations((0.2853646874, 0.2010837197)):
            Rectangle(F4_W, F4_H)
    extrude(amount=-F5_DEPTH)


solid = Compound([f1.part, f1b.part, f1c.part, f1d.part, f1e.part, f1f.part, f1g.part, f1h.part, f1i.part, f1j.part, f1k.part, f1l.part, f1m.part, f1n.part, f1o.part, f1p.part, f1q.part, f1r.part, f1s.part, f2.part, f5.part])
